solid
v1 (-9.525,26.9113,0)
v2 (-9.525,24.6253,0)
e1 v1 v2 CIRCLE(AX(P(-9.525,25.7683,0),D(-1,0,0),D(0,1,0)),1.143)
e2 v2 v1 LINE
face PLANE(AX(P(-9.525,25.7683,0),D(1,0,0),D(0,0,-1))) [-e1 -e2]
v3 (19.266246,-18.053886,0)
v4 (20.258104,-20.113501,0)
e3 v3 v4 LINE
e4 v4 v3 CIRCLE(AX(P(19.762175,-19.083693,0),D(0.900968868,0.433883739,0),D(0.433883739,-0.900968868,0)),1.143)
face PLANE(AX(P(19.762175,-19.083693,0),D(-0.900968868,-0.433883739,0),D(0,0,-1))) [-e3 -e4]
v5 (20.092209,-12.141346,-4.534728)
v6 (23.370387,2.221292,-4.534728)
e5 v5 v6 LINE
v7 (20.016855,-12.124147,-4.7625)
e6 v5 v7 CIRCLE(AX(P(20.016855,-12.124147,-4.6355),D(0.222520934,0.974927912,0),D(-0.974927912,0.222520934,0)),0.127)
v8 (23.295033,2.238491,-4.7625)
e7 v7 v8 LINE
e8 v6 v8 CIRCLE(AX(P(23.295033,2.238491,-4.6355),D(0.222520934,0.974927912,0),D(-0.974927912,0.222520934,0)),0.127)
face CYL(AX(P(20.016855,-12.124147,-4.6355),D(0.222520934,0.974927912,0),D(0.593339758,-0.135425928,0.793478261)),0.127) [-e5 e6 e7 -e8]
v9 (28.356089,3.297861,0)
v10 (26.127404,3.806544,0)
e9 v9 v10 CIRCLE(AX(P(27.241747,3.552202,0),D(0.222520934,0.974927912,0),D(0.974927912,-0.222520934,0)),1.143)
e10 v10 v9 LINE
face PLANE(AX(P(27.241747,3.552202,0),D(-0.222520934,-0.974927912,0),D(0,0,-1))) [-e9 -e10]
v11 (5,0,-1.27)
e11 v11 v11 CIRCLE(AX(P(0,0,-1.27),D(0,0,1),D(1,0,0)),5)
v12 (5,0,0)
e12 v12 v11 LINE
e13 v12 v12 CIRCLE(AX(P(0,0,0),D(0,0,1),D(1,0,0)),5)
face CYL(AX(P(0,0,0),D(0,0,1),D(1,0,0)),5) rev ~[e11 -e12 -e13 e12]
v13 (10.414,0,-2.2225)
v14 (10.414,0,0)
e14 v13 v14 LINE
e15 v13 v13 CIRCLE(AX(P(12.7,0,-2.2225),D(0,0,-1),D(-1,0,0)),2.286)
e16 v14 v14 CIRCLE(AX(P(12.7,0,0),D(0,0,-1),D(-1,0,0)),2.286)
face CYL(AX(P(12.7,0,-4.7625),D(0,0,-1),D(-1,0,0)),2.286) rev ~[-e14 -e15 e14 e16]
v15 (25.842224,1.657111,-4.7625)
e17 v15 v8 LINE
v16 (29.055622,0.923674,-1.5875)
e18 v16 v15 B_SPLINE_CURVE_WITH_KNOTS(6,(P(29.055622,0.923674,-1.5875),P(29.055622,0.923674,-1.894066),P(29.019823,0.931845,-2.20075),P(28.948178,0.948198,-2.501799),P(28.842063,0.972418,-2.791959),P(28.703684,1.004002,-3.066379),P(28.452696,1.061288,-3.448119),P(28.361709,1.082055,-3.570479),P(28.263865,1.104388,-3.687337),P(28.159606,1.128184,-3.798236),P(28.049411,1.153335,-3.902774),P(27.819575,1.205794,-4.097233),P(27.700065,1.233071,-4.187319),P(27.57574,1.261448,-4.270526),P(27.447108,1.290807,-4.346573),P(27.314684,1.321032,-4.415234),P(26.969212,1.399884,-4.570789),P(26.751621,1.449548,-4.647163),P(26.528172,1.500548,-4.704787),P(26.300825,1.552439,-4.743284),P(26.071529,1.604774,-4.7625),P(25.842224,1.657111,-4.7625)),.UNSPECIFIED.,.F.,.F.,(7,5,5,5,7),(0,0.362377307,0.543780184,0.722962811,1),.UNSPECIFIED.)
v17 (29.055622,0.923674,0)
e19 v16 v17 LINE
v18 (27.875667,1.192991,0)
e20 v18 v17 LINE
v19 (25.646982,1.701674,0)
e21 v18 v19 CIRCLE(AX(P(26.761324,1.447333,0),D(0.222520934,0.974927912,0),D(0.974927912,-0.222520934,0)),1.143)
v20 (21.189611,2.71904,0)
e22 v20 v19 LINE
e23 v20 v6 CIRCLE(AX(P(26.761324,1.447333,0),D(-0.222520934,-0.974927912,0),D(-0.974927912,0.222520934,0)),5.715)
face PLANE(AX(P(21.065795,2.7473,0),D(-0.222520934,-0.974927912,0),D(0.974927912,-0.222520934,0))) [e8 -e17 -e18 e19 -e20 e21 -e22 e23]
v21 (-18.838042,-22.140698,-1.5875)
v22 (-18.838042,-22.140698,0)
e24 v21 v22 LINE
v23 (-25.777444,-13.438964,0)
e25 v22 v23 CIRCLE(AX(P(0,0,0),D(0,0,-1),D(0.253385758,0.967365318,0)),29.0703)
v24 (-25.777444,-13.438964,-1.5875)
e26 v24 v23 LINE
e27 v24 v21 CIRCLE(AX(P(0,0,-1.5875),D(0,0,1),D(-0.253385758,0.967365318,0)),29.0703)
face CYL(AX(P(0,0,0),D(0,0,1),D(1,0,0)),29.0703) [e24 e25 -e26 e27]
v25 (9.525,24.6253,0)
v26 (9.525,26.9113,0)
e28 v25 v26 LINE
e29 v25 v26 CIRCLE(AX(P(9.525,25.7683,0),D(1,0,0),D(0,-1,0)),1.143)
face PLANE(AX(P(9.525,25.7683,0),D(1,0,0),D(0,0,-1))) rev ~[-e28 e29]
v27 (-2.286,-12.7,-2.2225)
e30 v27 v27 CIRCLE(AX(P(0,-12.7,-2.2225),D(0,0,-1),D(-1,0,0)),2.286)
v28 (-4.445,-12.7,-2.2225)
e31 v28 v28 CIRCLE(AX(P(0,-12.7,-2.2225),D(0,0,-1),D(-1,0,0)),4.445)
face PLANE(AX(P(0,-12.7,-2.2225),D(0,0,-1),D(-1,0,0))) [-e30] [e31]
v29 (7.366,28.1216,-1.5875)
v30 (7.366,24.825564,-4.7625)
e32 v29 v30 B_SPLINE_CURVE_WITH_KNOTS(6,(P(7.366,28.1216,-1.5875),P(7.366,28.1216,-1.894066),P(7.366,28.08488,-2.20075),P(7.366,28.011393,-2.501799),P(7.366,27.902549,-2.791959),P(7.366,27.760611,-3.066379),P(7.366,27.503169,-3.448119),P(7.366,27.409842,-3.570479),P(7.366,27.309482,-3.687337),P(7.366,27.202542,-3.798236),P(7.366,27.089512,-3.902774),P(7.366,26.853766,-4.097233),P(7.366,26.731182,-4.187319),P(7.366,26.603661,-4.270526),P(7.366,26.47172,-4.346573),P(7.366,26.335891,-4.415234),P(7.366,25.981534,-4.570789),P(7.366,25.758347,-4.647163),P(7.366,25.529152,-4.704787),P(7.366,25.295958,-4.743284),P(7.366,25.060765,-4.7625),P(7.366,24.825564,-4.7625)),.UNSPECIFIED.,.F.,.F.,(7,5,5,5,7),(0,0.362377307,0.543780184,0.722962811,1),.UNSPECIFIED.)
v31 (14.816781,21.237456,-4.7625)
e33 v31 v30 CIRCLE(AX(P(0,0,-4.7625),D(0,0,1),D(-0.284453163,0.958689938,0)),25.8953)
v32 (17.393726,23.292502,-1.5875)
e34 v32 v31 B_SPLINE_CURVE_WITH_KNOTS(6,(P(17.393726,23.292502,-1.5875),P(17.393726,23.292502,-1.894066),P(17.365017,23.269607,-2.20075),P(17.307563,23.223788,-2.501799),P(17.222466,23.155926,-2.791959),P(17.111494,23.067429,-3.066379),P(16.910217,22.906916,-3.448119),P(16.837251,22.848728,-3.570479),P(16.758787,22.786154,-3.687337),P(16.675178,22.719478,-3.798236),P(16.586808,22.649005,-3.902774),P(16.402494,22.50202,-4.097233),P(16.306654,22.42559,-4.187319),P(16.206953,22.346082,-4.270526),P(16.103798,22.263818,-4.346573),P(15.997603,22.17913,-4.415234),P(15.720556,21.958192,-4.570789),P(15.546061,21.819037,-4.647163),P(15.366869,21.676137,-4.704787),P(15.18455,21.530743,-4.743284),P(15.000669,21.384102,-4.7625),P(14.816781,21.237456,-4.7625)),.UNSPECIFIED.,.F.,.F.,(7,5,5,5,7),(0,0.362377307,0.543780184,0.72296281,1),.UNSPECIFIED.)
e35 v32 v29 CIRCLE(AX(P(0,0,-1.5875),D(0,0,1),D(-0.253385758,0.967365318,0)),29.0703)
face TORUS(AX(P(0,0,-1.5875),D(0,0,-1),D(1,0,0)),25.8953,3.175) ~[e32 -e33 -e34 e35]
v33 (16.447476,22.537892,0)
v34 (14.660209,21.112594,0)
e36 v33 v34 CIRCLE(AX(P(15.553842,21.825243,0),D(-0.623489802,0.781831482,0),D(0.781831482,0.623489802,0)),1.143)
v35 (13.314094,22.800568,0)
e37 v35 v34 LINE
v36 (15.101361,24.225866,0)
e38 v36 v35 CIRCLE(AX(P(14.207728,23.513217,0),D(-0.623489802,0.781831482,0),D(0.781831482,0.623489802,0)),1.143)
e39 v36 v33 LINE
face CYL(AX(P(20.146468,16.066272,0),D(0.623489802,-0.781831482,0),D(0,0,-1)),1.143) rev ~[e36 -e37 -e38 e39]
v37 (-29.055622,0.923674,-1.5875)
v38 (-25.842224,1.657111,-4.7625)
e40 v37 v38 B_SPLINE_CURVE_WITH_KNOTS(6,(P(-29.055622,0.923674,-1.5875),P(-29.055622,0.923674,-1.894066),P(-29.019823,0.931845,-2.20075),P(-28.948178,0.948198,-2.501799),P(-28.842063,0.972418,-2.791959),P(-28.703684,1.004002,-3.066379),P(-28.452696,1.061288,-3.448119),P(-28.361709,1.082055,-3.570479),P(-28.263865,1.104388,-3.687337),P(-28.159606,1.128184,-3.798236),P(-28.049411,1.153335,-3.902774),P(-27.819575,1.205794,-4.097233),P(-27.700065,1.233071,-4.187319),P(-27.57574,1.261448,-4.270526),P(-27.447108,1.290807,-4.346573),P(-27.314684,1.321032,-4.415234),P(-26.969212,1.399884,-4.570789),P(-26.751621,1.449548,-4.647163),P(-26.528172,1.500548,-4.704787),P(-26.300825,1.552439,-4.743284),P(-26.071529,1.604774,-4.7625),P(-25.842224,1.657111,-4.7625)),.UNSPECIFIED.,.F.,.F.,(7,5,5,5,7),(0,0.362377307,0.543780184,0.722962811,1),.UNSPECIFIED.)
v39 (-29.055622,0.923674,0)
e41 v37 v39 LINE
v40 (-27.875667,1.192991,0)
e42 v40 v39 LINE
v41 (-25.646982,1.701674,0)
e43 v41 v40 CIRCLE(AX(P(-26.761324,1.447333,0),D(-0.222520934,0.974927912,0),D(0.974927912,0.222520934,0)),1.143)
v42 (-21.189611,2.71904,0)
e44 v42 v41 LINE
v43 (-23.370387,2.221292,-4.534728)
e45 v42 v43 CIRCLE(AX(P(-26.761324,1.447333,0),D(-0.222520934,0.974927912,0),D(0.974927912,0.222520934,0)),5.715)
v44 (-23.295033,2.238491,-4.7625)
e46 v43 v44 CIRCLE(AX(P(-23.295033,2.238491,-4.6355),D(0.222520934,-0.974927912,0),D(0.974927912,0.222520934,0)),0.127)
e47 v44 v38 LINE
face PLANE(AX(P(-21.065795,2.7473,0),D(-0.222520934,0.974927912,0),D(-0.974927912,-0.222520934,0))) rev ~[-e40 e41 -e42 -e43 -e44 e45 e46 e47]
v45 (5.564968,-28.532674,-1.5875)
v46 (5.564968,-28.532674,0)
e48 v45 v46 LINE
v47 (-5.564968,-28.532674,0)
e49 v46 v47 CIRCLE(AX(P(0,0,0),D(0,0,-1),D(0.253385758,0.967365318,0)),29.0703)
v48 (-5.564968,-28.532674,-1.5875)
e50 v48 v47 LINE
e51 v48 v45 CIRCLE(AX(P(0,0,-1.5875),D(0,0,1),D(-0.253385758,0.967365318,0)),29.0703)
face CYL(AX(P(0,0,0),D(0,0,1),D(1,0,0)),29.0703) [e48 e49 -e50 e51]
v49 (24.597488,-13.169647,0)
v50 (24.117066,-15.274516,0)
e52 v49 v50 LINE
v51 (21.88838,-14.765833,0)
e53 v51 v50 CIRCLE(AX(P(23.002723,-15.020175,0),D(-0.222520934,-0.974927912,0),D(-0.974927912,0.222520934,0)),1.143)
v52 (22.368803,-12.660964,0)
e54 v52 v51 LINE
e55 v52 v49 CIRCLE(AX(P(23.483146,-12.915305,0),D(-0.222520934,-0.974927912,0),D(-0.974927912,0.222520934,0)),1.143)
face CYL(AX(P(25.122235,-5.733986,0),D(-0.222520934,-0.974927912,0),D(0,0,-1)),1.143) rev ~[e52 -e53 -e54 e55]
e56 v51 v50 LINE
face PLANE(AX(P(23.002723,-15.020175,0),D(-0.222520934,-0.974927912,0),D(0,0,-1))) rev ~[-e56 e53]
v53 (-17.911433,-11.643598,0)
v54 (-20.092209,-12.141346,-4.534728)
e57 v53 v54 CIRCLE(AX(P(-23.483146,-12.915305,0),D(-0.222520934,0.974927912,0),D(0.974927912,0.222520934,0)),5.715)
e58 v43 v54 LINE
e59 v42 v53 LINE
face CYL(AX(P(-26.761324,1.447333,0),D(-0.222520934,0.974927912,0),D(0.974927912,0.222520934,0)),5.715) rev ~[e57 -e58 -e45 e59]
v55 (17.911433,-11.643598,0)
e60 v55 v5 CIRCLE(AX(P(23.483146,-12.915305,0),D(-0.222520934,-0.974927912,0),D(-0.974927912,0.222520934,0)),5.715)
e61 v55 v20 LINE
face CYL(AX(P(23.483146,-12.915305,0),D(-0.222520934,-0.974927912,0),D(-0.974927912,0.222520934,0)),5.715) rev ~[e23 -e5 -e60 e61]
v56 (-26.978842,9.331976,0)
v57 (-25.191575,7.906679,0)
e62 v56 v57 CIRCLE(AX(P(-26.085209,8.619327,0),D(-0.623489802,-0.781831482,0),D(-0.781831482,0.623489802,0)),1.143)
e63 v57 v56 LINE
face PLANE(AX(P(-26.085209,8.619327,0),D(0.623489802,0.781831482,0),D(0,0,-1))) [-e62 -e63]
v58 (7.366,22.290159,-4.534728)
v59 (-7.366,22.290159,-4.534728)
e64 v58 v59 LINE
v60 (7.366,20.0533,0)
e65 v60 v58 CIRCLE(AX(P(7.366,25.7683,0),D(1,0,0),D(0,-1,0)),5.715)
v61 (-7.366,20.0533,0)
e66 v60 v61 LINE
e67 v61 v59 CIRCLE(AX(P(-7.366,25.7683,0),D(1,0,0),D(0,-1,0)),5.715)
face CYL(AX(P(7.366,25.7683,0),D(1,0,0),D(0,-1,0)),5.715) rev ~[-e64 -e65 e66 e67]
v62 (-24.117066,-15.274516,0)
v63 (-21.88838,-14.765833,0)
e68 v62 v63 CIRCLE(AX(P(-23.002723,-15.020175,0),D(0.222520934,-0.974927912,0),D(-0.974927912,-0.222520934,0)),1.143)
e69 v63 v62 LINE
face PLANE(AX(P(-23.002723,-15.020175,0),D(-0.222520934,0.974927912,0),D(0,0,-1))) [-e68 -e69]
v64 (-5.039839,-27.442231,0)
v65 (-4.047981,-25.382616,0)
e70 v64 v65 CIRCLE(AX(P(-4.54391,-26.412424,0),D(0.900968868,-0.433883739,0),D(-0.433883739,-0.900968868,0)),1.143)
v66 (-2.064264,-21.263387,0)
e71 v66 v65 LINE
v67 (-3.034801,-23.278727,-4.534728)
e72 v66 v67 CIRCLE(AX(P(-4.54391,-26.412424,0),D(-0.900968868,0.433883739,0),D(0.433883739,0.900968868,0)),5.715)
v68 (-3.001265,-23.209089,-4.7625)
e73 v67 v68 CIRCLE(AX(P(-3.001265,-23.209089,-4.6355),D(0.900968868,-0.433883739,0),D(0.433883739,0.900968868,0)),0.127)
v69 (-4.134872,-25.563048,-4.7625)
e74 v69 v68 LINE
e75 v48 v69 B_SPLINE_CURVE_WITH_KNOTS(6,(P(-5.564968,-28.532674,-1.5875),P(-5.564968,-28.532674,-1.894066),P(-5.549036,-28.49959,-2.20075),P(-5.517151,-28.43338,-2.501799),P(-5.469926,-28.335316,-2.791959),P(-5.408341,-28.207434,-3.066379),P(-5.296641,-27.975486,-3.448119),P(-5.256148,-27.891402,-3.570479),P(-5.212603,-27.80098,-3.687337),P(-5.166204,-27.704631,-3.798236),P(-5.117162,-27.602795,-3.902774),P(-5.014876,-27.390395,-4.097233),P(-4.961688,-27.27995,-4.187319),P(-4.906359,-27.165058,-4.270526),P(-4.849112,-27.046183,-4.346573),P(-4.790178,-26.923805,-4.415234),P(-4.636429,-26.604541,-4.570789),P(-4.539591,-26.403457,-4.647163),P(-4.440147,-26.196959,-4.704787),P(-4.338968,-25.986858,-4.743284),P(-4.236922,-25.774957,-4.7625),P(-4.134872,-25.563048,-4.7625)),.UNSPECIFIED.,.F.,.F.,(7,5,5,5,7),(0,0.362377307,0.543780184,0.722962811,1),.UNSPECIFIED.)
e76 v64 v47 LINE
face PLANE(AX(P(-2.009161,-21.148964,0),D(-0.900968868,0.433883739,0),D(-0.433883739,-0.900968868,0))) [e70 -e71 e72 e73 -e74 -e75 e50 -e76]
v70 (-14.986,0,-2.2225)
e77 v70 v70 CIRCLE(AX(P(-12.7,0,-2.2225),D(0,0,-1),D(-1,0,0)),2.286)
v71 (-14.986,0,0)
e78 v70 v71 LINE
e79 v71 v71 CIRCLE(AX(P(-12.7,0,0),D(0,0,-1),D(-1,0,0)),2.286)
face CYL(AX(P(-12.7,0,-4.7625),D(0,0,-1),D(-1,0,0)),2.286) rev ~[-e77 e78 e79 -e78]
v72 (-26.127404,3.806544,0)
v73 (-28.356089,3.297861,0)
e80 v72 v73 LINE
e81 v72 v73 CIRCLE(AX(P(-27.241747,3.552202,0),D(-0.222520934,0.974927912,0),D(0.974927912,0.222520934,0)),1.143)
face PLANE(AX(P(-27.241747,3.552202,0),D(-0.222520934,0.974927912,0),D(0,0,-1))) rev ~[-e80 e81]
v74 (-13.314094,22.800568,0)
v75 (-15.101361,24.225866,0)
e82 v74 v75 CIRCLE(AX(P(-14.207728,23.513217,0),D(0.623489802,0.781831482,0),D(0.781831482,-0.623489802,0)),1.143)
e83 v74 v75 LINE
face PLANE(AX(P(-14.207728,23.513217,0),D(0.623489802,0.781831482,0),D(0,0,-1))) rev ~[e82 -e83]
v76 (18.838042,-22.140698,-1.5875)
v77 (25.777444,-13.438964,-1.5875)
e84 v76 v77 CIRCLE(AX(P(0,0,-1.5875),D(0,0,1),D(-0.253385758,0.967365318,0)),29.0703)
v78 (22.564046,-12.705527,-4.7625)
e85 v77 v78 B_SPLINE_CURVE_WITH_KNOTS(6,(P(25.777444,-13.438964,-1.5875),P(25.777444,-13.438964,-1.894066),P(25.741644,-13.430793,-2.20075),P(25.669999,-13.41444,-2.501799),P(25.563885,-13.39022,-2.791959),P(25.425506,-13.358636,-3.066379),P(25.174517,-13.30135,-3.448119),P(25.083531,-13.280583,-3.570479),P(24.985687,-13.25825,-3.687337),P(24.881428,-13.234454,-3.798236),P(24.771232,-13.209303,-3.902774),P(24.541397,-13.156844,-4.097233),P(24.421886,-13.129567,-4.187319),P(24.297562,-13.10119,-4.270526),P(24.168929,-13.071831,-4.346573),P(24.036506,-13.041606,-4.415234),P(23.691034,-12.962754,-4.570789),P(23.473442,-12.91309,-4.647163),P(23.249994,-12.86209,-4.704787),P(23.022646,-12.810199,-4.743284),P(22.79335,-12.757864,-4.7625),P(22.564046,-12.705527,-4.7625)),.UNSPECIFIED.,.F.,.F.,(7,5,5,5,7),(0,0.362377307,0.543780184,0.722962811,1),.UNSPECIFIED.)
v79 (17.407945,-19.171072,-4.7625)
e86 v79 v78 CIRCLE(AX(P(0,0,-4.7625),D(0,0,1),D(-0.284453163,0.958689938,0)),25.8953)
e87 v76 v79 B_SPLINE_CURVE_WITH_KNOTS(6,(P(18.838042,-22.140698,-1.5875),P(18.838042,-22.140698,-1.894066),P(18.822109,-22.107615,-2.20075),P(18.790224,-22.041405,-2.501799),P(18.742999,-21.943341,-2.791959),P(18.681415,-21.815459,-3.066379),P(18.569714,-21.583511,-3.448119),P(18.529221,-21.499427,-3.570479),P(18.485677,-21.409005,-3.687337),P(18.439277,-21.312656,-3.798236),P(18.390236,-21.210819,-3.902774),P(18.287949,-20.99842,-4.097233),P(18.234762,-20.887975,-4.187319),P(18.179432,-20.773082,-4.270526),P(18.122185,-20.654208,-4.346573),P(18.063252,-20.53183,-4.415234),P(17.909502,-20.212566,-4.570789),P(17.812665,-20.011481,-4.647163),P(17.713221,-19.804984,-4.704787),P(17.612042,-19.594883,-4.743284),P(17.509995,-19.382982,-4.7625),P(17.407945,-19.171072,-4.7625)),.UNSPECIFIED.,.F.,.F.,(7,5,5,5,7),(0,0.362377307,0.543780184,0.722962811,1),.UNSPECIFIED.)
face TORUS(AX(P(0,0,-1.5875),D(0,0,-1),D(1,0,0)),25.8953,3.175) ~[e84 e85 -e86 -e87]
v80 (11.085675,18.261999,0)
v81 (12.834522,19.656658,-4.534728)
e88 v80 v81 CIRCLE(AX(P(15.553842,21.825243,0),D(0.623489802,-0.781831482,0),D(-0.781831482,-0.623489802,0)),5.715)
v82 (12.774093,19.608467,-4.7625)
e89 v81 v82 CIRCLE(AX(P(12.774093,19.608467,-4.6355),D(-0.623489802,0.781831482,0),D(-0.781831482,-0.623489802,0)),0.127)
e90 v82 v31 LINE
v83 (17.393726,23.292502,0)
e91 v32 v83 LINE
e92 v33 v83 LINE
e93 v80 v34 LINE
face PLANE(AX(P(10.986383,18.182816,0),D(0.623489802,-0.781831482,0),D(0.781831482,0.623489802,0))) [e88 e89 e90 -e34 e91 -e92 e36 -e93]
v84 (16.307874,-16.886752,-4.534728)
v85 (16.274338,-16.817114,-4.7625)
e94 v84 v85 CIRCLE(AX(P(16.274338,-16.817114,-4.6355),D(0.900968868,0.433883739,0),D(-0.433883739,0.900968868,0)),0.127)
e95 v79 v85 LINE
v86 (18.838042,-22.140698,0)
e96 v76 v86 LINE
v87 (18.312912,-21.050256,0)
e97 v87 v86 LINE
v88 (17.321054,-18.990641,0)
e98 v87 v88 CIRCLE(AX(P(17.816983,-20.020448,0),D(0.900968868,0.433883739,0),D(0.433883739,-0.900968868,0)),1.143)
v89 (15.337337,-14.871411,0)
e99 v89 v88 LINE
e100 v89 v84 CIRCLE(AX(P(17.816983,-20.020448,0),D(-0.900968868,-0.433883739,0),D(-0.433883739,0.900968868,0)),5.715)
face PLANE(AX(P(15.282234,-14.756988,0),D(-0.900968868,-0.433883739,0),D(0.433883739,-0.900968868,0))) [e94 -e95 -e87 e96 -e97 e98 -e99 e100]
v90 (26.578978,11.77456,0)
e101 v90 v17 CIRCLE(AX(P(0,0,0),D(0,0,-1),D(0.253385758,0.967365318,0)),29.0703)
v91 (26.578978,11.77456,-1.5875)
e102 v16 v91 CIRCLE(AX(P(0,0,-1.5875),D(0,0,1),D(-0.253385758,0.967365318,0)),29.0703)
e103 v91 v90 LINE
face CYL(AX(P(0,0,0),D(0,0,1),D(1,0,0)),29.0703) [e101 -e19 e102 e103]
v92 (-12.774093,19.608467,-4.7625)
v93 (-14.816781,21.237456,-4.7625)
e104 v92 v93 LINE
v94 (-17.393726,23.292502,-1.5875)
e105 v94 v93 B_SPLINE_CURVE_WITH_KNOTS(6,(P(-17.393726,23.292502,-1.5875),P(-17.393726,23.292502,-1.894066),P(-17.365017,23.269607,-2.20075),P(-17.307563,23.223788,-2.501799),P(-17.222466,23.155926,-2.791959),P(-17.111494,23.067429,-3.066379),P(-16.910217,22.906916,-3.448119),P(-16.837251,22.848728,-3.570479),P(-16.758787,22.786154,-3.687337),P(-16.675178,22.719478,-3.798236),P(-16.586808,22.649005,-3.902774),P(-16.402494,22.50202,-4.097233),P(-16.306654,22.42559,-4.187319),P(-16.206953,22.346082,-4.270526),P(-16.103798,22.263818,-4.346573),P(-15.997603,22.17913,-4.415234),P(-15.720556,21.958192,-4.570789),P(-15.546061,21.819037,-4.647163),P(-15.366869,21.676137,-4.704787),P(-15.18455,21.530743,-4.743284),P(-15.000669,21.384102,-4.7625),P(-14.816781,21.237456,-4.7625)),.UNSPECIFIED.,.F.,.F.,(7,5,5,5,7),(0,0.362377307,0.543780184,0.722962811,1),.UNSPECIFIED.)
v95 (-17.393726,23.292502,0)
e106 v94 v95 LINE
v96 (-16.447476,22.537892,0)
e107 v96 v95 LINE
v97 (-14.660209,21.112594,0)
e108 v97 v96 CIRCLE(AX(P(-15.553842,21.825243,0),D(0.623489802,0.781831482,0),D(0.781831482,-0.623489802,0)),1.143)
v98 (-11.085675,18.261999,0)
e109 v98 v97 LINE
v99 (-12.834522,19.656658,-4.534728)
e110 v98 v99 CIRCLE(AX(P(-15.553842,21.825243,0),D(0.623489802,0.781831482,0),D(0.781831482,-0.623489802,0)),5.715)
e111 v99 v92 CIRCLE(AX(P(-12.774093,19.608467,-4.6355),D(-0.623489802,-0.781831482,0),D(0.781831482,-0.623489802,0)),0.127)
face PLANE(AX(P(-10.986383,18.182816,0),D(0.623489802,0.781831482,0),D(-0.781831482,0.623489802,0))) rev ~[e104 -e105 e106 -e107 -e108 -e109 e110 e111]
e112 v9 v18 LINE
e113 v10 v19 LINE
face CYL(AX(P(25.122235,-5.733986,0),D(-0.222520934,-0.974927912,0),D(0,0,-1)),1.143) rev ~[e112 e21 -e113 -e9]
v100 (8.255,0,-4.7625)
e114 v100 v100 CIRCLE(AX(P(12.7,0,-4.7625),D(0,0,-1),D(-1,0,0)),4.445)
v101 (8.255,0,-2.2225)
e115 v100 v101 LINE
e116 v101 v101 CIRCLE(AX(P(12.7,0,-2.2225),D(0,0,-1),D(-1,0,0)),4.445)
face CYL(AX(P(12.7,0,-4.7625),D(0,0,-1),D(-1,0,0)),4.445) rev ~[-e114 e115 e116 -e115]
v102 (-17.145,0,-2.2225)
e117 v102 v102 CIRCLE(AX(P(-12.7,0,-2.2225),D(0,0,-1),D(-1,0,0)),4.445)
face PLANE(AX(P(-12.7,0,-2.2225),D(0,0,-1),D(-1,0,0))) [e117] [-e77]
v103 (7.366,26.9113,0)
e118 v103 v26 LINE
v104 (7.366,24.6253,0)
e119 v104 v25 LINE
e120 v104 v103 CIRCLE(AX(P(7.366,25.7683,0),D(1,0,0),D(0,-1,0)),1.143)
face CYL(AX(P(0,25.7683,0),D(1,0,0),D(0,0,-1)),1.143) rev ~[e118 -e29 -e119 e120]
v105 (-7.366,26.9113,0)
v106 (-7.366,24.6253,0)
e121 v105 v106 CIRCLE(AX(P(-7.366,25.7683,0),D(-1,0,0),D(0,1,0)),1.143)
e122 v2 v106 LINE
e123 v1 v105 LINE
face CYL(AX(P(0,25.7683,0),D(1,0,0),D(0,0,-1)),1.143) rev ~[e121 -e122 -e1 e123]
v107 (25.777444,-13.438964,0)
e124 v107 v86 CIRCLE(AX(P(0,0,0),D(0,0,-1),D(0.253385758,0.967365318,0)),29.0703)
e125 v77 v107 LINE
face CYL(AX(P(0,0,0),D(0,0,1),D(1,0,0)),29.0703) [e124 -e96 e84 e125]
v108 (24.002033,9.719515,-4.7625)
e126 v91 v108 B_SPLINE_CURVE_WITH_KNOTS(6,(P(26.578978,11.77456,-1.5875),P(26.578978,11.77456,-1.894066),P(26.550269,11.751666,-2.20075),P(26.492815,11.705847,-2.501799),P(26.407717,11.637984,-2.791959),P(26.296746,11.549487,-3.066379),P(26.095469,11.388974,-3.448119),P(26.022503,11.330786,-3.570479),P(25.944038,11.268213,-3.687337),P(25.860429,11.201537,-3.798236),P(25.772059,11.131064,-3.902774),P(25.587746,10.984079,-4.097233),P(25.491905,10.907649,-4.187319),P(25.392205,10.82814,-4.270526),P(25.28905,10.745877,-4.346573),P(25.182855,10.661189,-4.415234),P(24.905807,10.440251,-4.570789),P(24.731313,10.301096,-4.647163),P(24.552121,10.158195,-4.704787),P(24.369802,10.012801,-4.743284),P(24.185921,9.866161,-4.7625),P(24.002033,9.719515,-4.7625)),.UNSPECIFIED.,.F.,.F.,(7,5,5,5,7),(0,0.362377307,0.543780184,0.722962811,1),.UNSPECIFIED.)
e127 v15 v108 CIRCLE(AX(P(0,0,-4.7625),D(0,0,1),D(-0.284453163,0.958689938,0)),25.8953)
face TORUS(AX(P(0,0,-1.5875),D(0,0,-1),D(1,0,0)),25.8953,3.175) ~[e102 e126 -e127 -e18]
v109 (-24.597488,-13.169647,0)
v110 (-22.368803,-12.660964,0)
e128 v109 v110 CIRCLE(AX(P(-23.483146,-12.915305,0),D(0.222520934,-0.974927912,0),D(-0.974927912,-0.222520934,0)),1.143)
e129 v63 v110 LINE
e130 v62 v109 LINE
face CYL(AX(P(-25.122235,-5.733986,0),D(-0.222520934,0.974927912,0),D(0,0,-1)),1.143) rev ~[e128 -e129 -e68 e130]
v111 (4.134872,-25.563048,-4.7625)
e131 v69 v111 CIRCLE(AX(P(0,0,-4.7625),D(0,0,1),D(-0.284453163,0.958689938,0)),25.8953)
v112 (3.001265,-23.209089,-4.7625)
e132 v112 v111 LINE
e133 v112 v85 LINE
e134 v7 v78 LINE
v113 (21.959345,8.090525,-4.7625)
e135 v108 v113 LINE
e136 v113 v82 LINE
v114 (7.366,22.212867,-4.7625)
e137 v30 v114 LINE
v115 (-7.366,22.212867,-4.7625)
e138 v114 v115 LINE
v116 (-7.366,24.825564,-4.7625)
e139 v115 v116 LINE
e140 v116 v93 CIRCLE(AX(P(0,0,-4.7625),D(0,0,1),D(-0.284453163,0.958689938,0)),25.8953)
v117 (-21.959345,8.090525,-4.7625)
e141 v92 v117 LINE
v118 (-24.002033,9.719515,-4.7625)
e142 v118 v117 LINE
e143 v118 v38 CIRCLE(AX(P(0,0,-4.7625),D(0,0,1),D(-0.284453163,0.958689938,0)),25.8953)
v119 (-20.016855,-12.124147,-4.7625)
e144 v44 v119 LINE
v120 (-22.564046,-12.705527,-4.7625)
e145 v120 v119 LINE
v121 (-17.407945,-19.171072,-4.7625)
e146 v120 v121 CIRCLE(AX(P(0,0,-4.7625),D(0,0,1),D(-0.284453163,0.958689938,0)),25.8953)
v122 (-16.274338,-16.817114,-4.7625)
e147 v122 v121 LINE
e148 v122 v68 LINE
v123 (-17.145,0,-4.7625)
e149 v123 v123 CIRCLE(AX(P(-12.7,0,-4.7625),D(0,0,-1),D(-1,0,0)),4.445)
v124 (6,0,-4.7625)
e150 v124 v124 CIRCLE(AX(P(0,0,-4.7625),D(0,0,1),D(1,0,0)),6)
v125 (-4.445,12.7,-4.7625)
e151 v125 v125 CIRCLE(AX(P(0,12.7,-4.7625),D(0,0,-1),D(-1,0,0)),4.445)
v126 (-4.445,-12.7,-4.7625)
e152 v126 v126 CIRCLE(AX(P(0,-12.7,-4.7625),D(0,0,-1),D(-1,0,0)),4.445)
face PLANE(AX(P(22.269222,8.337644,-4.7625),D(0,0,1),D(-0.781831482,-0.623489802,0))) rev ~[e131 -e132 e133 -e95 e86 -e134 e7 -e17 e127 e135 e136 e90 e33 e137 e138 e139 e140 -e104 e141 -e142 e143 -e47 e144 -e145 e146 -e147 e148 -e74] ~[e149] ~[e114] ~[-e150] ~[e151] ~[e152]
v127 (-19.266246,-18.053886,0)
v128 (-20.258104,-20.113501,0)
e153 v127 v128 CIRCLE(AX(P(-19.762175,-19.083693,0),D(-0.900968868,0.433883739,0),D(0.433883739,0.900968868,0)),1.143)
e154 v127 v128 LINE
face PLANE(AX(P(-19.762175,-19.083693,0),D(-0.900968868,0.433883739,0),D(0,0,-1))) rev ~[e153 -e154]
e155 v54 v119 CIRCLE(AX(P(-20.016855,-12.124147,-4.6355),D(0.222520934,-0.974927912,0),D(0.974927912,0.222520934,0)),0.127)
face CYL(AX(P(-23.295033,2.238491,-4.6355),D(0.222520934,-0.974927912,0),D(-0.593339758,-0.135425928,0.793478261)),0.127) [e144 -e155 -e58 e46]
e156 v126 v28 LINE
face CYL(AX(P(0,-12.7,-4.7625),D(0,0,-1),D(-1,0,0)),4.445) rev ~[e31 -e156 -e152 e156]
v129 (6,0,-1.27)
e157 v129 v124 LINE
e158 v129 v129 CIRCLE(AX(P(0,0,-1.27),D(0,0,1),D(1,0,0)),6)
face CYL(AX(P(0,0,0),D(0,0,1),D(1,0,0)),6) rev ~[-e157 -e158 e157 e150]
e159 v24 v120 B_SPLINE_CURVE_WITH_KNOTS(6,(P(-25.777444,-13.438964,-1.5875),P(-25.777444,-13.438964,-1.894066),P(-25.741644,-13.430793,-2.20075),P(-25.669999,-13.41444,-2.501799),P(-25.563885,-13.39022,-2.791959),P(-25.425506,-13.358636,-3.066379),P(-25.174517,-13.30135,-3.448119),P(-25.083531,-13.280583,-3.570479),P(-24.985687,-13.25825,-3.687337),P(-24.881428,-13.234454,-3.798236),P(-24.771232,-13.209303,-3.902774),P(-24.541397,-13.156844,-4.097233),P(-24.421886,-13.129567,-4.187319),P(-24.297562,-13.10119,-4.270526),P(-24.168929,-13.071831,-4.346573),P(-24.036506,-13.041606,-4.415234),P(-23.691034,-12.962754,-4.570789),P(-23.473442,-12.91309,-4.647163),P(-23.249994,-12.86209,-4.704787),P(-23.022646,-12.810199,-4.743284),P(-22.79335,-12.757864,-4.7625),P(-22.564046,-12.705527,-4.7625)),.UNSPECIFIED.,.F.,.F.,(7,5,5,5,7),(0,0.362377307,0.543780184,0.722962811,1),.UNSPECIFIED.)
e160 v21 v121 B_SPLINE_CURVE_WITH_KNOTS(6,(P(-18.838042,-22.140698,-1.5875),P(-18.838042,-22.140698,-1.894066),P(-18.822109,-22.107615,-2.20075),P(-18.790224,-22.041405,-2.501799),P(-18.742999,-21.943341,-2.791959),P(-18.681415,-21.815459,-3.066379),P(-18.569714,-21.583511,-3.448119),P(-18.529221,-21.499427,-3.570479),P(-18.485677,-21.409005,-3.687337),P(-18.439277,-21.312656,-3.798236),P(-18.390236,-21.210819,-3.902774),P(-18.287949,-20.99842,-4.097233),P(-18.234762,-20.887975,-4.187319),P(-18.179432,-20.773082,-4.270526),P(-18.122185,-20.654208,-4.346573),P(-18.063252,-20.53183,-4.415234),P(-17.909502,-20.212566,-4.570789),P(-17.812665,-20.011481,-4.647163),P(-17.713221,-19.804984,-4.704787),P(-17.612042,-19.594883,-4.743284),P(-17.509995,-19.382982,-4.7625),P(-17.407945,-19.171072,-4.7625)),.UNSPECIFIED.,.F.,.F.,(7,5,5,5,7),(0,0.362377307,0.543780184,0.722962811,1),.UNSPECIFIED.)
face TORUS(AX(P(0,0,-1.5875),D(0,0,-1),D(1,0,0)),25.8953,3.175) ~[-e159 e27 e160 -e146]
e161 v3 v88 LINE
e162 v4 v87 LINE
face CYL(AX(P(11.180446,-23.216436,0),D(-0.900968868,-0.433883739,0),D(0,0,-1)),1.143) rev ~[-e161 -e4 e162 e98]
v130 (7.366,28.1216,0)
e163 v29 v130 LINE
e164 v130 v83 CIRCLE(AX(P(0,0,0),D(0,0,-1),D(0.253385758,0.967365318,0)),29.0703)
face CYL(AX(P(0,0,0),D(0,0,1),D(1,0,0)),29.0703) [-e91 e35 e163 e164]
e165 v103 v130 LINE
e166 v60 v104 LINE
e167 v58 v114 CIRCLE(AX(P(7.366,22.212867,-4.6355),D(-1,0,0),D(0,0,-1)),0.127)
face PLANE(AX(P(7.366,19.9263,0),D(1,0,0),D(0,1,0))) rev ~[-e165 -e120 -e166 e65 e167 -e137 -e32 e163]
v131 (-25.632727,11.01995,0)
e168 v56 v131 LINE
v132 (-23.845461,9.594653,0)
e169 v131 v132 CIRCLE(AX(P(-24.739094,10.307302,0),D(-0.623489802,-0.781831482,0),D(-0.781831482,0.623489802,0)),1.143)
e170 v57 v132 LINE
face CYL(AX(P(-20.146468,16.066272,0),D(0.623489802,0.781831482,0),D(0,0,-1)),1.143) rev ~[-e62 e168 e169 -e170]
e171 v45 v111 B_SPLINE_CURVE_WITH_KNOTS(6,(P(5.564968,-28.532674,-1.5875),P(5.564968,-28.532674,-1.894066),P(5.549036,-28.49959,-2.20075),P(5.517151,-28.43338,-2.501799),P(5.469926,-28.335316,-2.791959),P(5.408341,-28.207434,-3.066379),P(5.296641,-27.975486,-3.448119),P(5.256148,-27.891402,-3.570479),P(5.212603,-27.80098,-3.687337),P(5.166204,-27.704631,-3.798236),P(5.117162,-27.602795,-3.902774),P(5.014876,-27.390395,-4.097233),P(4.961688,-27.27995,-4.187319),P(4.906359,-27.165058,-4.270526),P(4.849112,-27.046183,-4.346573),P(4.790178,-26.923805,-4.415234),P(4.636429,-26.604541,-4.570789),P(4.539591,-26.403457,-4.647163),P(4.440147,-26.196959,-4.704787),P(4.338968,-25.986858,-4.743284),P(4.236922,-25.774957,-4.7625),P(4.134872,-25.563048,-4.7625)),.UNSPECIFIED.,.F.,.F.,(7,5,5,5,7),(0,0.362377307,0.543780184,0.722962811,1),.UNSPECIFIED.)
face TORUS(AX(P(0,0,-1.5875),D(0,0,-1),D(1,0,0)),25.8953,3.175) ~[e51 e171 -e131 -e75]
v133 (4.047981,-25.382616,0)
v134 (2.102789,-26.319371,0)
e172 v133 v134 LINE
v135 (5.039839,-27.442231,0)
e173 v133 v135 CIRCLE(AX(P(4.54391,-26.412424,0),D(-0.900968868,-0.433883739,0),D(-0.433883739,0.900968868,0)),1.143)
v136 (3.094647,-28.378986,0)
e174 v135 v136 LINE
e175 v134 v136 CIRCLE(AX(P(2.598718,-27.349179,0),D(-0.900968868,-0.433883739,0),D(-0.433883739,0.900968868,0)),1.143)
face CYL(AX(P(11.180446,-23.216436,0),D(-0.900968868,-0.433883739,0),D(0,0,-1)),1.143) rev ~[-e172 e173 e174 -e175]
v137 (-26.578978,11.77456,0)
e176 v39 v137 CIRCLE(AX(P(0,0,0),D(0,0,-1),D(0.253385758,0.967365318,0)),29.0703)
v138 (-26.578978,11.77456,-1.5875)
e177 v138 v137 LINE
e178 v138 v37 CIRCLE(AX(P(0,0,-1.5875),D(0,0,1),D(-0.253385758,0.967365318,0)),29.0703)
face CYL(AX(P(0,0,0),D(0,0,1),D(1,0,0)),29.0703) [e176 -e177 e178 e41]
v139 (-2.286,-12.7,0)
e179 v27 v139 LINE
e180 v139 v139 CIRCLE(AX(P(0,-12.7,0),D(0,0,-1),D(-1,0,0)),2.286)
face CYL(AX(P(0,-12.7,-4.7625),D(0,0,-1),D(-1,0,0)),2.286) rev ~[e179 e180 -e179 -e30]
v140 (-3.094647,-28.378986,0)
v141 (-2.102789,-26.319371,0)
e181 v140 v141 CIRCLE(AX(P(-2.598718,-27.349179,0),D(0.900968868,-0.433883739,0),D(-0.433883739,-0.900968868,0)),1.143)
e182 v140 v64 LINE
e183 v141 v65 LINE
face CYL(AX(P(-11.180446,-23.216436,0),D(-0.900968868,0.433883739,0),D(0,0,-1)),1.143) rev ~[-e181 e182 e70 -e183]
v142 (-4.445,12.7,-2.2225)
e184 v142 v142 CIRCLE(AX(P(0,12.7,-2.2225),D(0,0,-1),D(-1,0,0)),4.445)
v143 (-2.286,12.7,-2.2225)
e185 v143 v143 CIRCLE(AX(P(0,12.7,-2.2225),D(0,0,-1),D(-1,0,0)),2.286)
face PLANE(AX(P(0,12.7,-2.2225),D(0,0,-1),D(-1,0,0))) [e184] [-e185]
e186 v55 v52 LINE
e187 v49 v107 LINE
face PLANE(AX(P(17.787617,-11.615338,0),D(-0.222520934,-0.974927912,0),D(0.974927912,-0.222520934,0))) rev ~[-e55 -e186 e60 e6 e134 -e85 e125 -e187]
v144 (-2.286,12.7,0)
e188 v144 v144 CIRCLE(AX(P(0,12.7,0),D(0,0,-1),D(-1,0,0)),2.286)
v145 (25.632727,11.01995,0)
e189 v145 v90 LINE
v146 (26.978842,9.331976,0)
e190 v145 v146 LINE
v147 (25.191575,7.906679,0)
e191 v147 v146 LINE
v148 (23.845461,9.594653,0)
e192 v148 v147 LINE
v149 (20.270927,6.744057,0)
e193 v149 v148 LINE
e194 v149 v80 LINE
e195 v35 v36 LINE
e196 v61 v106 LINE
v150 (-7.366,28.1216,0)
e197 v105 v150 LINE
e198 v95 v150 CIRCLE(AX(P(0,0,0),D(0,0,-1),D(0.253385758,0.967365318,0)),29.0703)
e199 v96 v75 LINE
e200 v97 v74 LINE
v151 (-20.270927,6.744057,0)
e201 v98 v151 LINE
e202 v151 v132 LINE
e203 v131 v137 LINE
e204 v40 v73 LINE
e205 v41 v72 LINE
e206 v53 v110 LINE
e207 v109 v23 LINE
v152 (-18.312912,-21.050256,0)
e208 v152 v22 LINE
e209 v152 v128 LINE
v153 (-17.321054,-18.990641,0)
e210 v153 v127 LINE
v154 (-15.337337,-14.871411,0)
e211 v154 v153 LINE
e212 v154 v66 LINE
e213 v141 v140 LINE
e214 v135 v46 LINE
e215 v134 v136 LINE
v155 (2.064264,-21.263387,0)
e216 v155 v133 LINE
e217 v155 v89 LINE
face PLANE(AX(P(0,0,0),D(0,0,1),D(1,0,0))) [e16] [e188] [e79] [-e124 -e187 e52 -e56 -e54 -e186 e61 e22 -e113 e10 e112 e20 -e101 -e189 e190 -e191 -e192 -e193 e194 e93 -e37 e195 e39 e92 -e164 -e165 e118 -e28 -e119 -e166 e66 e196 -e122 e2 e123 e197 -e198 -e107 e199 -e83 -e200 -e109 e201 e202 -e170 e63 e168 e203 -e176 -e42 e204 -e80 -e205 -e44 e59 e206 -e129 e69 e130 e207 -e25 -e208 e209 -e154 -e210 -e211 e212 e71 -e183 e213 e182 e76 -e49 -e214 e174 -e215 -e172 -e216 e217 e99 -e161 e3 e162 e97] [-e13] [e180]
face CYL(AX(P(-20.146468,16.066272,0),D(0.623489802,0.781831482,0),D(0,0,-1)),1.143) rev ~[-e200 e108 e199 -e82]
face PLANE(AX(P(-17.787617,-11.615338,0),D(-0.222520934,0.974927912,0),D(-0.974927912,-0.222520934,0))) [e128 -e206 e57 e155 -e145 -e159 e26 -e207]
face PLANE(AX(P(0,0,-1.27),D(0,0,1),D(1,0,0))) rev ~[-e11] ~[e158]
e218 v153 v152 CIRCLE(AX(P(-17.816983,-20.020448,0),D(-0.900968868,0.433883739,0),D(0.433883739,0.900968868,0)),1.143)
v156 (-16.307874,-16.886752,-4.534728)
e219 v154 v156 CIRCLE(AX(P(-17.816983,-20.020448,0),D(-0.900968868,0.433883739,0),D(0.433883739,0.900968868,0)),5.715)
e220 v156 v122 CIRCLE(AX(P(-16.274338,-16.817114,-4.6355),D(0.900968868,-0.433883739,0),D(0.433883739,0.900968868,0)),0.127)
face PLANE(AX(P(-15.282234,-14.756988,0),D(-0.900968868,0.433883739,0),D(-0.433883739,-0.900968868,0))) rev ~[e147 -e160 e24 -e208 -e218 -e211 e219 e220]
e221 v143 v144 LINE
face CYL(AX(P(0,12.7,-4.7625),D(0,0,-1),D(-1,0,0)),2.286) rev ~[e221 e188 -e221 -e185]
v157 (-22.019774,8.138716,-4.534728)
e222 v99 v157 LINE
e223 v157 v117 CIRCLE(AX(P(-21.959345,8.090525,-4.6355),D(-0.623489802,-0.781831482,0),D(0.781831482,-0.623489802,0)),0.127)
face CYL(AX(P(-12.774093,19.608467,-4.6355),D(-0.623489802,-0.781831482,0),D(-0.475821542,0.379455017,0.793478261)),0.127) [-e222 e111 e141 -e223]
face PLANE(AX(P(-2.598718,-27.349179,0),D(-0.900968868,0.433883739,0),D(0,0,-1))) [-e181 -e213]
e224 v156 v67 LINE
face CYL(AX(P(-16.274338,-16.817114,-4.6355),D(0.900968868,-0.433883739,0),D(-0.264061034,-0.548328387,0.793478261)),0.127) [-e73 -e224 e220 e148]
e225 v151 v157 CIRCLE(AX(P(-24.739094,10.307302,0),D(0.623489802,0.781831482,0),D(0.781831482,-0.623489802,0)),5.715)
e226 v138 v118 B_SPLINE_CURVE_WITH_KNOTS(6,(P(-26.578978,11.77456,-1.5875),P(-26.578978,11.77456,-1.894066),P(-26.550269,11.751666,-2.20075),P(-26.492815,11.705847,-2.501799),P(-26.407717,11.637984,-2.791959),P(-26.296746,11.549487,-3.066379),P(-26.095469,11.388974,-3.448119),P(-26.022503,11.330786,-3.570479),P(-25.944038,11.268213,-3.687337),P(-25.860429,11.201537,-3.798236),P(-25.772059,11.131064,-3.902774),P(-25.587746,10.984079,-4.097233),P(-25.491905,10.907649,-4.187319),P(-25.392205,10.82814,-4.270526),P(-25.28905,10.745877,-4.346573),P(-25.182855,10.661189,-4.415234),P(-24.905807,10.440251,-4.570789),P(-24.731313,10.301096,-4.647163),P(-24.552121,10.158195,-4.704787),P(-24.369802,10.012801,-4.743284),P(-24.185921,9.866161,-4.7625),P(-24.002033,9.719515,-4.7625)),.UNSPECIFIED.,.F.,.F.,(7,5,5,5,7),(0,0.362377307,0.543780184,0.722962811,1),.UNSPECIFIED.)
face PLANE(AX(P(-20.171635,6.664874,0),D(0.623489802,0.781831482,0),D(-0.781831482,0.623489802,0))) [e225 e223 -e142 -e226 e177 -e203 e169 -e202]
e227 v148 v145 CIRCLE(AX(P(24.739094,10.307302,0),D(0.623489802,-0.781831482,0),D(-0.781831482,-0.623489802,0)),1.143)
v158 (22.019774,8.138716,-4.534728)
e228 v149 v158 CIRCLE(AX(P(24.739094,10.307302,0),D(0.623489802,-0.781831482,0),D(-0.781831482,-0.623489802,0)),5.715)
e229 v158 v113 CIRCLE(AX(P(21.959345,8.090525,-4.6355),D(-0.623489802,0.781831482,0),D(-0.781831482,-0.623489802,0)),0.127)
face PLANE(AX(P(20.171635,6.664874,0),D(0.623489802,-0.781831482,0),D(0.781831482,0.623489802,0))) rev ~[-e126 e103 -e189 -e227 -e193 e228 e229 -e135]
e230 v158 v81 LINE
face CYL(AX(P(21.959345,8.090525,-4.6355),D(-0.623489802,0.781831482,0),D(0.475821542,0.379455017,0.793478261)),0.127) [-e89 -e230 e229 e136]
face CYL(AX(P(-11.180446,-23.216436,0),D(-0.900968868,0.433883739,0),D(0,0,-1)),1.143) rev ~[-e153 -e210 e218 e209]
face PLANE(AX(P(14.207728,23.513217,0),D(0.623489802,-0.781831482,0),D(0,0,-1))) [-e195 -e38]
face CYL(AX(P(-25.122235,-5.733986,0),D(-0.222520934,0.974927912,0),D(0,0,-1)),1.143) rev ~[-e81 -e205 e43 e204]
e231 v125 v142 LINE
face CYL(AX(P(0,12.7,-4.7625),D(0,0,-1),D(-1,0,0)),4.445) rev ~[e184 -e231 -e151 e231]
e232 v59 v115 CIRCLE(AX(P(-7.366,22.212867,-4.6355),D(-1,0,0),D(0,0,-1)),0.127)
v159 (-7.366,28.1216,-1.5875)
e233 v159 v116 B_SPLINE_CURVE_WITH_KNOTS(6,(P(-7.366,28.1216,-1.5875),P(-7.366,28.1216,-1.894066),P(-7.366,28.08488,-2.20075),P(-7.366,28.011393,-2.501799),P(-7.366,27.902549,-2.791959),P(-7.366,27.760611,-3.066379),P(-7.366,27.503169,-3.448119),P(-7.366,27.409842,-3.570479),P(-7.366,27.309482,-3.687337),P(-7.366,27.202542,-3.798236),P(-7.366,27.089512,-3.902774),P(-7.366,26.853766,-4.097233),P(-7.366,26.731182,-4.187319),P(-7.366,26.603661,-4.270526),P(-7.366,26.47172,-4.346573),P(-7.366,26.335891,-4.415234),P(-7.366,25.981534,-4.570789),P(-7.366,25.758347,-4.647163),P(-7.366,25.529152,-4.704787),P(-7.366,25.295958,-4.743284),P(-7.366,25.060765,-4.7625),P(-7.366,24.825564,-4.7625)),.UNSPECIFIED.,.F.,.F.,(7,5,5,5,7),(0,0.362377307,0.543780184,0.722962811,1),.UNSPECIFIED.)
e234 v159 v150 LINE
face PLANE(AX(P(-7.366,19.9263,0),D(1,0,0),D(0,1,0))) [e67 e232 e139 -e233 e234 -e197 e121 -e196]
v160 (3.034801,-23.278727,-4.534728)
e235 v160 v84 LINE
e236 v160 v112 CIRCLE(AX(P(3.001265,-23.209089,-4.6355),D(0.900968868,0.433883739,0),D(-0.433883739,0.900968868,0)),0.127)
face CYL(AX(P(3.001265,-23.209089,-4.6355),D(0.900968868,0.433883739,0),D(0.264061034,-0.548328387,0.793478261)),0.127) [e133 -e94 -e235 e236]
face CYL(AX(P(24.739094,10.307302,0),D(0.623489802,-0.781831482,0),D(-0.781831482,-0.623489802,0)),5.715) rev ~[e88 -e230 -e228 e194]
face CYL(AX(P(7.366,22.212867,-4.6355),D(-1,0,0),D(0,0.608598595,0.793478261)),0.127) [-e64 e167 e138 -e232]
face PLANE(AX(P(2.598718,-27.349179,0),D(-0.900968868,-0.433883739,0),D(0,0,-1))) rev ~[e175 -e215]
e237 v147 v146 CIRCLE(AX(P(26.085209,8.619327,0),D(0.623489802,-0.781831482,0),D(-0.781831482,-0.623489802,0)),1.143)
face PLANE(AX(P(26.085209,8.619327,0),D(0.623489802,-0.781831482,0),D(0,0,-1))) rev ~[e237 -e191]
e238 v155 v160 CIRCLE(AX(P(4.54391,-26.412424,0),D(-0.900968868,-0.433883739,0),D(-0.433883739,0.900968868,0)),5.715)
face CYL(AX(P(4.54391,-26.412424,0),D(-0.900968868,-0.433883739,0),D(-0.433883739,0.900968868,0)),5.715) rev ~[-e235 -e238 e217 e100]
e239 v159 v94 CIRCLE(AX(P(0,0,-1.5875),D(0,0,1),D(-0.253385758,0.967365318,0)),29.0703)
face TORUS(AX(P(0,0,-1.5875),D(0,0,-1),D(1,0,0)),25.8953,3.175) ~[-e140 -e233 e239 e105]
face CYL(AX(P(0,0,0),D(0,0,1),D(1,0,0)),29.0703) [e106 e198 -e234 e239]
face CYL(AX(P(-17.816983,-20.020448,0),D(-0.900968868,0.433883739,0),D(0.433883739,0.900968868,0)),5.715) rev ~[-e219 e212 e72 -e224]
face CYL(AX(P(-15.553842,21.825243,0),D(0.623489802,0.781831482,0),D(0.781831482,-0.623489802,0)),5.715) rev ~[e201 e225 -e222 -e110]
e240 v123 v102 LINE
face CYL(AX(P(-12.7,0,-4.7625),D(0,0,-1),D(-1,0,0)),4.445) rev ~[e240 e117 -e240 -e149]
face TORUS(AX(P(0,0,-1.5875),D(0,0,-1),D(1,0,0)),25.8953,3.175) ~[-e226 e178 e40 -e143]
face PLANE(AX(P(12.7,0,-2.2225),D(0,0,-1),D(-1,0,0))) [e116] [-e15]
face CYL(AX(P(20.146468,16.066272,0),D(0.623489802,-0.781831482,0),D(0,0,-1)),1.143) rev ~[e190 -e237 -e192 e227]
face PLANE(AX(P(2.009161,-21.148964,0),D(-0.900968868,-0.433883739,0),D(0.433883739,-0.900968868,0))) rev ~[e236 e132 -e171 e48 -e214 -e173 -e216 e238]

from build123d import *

# Parameters (mm, degrees)
SKETCH1_R                = 29.0703
BOSS_EXTRUDE2_DEPTH      = 4.7625
FILLET1_R                = 3.175
SKETCH2_W                = 14.732
SKETCH2_H                = 10.414
CUT_EXTRUDE2_DEPTH       = 12.7
CIRPATTERN1_COUNT        = 7
SKETCH4_R                = 1.143
CUT_EXTRUDE4_DEPTH       = 9.525
CIRPATTERN2_COUNT        = 7
SKETCH6_R                = 2.286
CUT_EXTRUDE7_DEPTH       = 42.376236281
SKETCH7_R                = 4.445
CUT_EXTRUDE8_DEPTH       = 2.54
BOSS_EXTRUDE4_REACH      = 48.843
FILLET2_R                = 0.127
CIRPATTERN5_COUNT        = 7
FILLET2_OF_CIRPATTERN5_R = 0.127
SKETCH5_R                = 6
CUT_EXTRUDE9_DEPTH       = 5.08
SKETCH11_R               = 6
SKETCH11_R_2             = 5
BOSS_EXTRUDE5_DEPTH      = 1.27


with BuildPart() as part:
    # Sketch1 → Boss-Extrude2 (new body)
    with BuildSketch(Plane.XY):
        Circle(SKETCH1_R)
    extrude(amount=-BOSS_EXTRUDE2_DEPTH)

    # Fillet1
    fillet1_edges = [part.edges().sort_by_distance(p)[0] for p in [
        (-29.0703, 0, -4.7625),
    ]]
    fillet(fillet1_edges, radius=FILLET1_R)

    # Sketch2 → Cut-Extrude2 (cut)
    with BuildSketch(Plane.XY):
        with Locations((0, 25.1333)):
            Rectangle(SKETCH2_W, SKETCH2_H)
    cut_extrude2 = extrude(amount=-CUT_EXTRUDE2_DEPTH, mode=Mode.SUBTRACT)

    # CirPattern1: Cut-Extrude2 ×7 about axis
    cirpattern1_axis = Axis((0, 0, 0), (0, 0, 1))
    for i in range(1, CIRPATTERN1_COUNT):
        add(cut_extrude2.rotate(cirpattern1_axis, i * 360 / CIRPATTERN1_COUNT), mode=Mode.SUBTRACT)

    # Sketch4 → Cut-Extrude4 (cut, symmetric)
    with BuildSketch(Plane(origin=(0, 0, 0), x_dir=(0, 0, -1), z_dir=(1, 0, 0))):
        with Locations((0, 25.7683)):
            Circle(SKETCH4_R)
    cut_extrude4 = extrude(amount=CUT_EXTRUDE4_DEPTH, both=True, mode=Mode.SUBTRACT)

    # CirPattern2: Cut-Extrude4 ×7 about axis
    cirpattern2_axis = Axis((0, 0, 0), (0, 0, 1))
    for i in range(1, CIRPATTERN2_COUNT):
        add(cut_extrude4.rotate(cirpattern2_axis, i * 360 / CIRPATTERN2_COUNT), mode=Mode.SUBTRACT)

    # Sketch6 → Cut-Extrude7 (cut, through all)
    with BuildSketch(Plane(origin=(0, 0, -4.7625), x_dir=(-1, 0, 0), z_dir=(0, 0, -1))):
        with Locations((12.7, 0)):
            Circle(SKETCH6_R)
        with Locations((0, -12.7)):
            Circle(SKETCH6_R)
        with Locations((-12.7, 0)):
            Circle(SKETCH6_R)
        with Locations((0, 12.7)):
            Circle(SKETCH6_R)
    extrude(amount=-CUT_EXTRUDE7_DEPTH, mode=Mode.SUBTRACT)

    # Sketch7 → Cut-Extrude8 (cut)
    with BuildSketch(Plane(origin=(0, 0, -4.7625), x_dir=(-1, 0, 0), z_dir=(0, 0, -1))):
        with Locations((12.7, 0)):
            Circle(SKETCH7_R)
        with Locations((0, -12.7)):
            Circle(SKETCH7_R)
        with Locations((-12.7, 0)):
            Circle(SKETCH7_R)
        with Locations((0, 12.7)):
            Circle(SKETCH7_R)
    extrude(amount=-CUT_EXTRUDE8_DEPTH, mode=Mode.SUBTRACT)

    # Sketch10 → Boss-Extrude4 (add, up to next)
    with BuildSketch(Plane.ZY.offset(-7.366), mode=Mode.PRIVATE) as boss_extrude4_sk1:
        with BuildLine():
            Line((-4.7625, 19.9263), (0, 19.9263))
            Line((0, 19.9263), (0, 20.0533))
            ThreePointArc((0, 20.0533), (-2.7025038, 20.73265722), (-4.7625, 22.609214887))
            Line((-4.7625, 22.609214887), (-4.7625, 19.9263))
        make_face()
    boss_extrude4_tool1 = extrude(boss_extrude4_sk1.sketch, amount=BOSS_EXTRUDE4_REACH, mode=Mode.PRIVATE) - part.part
    boss_extrude4 = boss_extrude4_tool1.solids().sort_by_distance((7.366, 20.664807, -3.452063))[0]
    add(boss_extrude4)

    # Fillet2
    fillet2_edges = [part.edges().sort_by_distance(p)[0] for p in [
        (0, 22.609214887, -4.7625),
    ]]
    fillet(fillet2_edges, radius=FILLET2_R)

    # CirPattern5: Boss-Extrude4 ×7 about axis
    cirpattern5_axis = Axis((0, 0, 0), (0, 0, 1))
    for i in range(1, CIRPATTERN5_COUNT):
        add(boss_extrude4.rotate(cirpattern5_axis, i * 360 / CIRPATTERN5_COUNT))

    # Fillet2 of CirPattern5
    fillet2_of_cirpattern5_edges = [part.edges().sort_by_distance(p)[0] for p in [
        (-17.676595993, 14.09661491, -4.7625),
        (-22.042354666, -5.031023613, -4.7625),
        (-9.809770694, -20.370198741, -4.7625),
        (9.809770694, -20.370198741, -4.7625),
        (22.042354666, -5.031023613, -4.7625),
        (17.676595993, 14.09661491, -4.7625),
    ]]
    fillet(fillet2_of_cirpattern5_edges, radius=FILLET2_OF_CIRPATTERN5_R)

    # Sketch5 → Cut-Extrude9 (cut)
    with BuildSketch(Plane.XY):
        Circle(SKETCH5_R)
    extrude(amount=-CUT_EXTRUDE9_DEPTH, mode=Mode.SUBTRACT)

    # Sketch11 → Boss-Extrude5 (add)
    with BuildSketch(Plane.XY):
        Circle(SKETCH11_R)
        Circle(SKETCH11_R_2, mode=Mode.SUBTRACT)
    extrude(amount=-BOSS_EXTRUDE5_DEPTH)


solid = part.part
